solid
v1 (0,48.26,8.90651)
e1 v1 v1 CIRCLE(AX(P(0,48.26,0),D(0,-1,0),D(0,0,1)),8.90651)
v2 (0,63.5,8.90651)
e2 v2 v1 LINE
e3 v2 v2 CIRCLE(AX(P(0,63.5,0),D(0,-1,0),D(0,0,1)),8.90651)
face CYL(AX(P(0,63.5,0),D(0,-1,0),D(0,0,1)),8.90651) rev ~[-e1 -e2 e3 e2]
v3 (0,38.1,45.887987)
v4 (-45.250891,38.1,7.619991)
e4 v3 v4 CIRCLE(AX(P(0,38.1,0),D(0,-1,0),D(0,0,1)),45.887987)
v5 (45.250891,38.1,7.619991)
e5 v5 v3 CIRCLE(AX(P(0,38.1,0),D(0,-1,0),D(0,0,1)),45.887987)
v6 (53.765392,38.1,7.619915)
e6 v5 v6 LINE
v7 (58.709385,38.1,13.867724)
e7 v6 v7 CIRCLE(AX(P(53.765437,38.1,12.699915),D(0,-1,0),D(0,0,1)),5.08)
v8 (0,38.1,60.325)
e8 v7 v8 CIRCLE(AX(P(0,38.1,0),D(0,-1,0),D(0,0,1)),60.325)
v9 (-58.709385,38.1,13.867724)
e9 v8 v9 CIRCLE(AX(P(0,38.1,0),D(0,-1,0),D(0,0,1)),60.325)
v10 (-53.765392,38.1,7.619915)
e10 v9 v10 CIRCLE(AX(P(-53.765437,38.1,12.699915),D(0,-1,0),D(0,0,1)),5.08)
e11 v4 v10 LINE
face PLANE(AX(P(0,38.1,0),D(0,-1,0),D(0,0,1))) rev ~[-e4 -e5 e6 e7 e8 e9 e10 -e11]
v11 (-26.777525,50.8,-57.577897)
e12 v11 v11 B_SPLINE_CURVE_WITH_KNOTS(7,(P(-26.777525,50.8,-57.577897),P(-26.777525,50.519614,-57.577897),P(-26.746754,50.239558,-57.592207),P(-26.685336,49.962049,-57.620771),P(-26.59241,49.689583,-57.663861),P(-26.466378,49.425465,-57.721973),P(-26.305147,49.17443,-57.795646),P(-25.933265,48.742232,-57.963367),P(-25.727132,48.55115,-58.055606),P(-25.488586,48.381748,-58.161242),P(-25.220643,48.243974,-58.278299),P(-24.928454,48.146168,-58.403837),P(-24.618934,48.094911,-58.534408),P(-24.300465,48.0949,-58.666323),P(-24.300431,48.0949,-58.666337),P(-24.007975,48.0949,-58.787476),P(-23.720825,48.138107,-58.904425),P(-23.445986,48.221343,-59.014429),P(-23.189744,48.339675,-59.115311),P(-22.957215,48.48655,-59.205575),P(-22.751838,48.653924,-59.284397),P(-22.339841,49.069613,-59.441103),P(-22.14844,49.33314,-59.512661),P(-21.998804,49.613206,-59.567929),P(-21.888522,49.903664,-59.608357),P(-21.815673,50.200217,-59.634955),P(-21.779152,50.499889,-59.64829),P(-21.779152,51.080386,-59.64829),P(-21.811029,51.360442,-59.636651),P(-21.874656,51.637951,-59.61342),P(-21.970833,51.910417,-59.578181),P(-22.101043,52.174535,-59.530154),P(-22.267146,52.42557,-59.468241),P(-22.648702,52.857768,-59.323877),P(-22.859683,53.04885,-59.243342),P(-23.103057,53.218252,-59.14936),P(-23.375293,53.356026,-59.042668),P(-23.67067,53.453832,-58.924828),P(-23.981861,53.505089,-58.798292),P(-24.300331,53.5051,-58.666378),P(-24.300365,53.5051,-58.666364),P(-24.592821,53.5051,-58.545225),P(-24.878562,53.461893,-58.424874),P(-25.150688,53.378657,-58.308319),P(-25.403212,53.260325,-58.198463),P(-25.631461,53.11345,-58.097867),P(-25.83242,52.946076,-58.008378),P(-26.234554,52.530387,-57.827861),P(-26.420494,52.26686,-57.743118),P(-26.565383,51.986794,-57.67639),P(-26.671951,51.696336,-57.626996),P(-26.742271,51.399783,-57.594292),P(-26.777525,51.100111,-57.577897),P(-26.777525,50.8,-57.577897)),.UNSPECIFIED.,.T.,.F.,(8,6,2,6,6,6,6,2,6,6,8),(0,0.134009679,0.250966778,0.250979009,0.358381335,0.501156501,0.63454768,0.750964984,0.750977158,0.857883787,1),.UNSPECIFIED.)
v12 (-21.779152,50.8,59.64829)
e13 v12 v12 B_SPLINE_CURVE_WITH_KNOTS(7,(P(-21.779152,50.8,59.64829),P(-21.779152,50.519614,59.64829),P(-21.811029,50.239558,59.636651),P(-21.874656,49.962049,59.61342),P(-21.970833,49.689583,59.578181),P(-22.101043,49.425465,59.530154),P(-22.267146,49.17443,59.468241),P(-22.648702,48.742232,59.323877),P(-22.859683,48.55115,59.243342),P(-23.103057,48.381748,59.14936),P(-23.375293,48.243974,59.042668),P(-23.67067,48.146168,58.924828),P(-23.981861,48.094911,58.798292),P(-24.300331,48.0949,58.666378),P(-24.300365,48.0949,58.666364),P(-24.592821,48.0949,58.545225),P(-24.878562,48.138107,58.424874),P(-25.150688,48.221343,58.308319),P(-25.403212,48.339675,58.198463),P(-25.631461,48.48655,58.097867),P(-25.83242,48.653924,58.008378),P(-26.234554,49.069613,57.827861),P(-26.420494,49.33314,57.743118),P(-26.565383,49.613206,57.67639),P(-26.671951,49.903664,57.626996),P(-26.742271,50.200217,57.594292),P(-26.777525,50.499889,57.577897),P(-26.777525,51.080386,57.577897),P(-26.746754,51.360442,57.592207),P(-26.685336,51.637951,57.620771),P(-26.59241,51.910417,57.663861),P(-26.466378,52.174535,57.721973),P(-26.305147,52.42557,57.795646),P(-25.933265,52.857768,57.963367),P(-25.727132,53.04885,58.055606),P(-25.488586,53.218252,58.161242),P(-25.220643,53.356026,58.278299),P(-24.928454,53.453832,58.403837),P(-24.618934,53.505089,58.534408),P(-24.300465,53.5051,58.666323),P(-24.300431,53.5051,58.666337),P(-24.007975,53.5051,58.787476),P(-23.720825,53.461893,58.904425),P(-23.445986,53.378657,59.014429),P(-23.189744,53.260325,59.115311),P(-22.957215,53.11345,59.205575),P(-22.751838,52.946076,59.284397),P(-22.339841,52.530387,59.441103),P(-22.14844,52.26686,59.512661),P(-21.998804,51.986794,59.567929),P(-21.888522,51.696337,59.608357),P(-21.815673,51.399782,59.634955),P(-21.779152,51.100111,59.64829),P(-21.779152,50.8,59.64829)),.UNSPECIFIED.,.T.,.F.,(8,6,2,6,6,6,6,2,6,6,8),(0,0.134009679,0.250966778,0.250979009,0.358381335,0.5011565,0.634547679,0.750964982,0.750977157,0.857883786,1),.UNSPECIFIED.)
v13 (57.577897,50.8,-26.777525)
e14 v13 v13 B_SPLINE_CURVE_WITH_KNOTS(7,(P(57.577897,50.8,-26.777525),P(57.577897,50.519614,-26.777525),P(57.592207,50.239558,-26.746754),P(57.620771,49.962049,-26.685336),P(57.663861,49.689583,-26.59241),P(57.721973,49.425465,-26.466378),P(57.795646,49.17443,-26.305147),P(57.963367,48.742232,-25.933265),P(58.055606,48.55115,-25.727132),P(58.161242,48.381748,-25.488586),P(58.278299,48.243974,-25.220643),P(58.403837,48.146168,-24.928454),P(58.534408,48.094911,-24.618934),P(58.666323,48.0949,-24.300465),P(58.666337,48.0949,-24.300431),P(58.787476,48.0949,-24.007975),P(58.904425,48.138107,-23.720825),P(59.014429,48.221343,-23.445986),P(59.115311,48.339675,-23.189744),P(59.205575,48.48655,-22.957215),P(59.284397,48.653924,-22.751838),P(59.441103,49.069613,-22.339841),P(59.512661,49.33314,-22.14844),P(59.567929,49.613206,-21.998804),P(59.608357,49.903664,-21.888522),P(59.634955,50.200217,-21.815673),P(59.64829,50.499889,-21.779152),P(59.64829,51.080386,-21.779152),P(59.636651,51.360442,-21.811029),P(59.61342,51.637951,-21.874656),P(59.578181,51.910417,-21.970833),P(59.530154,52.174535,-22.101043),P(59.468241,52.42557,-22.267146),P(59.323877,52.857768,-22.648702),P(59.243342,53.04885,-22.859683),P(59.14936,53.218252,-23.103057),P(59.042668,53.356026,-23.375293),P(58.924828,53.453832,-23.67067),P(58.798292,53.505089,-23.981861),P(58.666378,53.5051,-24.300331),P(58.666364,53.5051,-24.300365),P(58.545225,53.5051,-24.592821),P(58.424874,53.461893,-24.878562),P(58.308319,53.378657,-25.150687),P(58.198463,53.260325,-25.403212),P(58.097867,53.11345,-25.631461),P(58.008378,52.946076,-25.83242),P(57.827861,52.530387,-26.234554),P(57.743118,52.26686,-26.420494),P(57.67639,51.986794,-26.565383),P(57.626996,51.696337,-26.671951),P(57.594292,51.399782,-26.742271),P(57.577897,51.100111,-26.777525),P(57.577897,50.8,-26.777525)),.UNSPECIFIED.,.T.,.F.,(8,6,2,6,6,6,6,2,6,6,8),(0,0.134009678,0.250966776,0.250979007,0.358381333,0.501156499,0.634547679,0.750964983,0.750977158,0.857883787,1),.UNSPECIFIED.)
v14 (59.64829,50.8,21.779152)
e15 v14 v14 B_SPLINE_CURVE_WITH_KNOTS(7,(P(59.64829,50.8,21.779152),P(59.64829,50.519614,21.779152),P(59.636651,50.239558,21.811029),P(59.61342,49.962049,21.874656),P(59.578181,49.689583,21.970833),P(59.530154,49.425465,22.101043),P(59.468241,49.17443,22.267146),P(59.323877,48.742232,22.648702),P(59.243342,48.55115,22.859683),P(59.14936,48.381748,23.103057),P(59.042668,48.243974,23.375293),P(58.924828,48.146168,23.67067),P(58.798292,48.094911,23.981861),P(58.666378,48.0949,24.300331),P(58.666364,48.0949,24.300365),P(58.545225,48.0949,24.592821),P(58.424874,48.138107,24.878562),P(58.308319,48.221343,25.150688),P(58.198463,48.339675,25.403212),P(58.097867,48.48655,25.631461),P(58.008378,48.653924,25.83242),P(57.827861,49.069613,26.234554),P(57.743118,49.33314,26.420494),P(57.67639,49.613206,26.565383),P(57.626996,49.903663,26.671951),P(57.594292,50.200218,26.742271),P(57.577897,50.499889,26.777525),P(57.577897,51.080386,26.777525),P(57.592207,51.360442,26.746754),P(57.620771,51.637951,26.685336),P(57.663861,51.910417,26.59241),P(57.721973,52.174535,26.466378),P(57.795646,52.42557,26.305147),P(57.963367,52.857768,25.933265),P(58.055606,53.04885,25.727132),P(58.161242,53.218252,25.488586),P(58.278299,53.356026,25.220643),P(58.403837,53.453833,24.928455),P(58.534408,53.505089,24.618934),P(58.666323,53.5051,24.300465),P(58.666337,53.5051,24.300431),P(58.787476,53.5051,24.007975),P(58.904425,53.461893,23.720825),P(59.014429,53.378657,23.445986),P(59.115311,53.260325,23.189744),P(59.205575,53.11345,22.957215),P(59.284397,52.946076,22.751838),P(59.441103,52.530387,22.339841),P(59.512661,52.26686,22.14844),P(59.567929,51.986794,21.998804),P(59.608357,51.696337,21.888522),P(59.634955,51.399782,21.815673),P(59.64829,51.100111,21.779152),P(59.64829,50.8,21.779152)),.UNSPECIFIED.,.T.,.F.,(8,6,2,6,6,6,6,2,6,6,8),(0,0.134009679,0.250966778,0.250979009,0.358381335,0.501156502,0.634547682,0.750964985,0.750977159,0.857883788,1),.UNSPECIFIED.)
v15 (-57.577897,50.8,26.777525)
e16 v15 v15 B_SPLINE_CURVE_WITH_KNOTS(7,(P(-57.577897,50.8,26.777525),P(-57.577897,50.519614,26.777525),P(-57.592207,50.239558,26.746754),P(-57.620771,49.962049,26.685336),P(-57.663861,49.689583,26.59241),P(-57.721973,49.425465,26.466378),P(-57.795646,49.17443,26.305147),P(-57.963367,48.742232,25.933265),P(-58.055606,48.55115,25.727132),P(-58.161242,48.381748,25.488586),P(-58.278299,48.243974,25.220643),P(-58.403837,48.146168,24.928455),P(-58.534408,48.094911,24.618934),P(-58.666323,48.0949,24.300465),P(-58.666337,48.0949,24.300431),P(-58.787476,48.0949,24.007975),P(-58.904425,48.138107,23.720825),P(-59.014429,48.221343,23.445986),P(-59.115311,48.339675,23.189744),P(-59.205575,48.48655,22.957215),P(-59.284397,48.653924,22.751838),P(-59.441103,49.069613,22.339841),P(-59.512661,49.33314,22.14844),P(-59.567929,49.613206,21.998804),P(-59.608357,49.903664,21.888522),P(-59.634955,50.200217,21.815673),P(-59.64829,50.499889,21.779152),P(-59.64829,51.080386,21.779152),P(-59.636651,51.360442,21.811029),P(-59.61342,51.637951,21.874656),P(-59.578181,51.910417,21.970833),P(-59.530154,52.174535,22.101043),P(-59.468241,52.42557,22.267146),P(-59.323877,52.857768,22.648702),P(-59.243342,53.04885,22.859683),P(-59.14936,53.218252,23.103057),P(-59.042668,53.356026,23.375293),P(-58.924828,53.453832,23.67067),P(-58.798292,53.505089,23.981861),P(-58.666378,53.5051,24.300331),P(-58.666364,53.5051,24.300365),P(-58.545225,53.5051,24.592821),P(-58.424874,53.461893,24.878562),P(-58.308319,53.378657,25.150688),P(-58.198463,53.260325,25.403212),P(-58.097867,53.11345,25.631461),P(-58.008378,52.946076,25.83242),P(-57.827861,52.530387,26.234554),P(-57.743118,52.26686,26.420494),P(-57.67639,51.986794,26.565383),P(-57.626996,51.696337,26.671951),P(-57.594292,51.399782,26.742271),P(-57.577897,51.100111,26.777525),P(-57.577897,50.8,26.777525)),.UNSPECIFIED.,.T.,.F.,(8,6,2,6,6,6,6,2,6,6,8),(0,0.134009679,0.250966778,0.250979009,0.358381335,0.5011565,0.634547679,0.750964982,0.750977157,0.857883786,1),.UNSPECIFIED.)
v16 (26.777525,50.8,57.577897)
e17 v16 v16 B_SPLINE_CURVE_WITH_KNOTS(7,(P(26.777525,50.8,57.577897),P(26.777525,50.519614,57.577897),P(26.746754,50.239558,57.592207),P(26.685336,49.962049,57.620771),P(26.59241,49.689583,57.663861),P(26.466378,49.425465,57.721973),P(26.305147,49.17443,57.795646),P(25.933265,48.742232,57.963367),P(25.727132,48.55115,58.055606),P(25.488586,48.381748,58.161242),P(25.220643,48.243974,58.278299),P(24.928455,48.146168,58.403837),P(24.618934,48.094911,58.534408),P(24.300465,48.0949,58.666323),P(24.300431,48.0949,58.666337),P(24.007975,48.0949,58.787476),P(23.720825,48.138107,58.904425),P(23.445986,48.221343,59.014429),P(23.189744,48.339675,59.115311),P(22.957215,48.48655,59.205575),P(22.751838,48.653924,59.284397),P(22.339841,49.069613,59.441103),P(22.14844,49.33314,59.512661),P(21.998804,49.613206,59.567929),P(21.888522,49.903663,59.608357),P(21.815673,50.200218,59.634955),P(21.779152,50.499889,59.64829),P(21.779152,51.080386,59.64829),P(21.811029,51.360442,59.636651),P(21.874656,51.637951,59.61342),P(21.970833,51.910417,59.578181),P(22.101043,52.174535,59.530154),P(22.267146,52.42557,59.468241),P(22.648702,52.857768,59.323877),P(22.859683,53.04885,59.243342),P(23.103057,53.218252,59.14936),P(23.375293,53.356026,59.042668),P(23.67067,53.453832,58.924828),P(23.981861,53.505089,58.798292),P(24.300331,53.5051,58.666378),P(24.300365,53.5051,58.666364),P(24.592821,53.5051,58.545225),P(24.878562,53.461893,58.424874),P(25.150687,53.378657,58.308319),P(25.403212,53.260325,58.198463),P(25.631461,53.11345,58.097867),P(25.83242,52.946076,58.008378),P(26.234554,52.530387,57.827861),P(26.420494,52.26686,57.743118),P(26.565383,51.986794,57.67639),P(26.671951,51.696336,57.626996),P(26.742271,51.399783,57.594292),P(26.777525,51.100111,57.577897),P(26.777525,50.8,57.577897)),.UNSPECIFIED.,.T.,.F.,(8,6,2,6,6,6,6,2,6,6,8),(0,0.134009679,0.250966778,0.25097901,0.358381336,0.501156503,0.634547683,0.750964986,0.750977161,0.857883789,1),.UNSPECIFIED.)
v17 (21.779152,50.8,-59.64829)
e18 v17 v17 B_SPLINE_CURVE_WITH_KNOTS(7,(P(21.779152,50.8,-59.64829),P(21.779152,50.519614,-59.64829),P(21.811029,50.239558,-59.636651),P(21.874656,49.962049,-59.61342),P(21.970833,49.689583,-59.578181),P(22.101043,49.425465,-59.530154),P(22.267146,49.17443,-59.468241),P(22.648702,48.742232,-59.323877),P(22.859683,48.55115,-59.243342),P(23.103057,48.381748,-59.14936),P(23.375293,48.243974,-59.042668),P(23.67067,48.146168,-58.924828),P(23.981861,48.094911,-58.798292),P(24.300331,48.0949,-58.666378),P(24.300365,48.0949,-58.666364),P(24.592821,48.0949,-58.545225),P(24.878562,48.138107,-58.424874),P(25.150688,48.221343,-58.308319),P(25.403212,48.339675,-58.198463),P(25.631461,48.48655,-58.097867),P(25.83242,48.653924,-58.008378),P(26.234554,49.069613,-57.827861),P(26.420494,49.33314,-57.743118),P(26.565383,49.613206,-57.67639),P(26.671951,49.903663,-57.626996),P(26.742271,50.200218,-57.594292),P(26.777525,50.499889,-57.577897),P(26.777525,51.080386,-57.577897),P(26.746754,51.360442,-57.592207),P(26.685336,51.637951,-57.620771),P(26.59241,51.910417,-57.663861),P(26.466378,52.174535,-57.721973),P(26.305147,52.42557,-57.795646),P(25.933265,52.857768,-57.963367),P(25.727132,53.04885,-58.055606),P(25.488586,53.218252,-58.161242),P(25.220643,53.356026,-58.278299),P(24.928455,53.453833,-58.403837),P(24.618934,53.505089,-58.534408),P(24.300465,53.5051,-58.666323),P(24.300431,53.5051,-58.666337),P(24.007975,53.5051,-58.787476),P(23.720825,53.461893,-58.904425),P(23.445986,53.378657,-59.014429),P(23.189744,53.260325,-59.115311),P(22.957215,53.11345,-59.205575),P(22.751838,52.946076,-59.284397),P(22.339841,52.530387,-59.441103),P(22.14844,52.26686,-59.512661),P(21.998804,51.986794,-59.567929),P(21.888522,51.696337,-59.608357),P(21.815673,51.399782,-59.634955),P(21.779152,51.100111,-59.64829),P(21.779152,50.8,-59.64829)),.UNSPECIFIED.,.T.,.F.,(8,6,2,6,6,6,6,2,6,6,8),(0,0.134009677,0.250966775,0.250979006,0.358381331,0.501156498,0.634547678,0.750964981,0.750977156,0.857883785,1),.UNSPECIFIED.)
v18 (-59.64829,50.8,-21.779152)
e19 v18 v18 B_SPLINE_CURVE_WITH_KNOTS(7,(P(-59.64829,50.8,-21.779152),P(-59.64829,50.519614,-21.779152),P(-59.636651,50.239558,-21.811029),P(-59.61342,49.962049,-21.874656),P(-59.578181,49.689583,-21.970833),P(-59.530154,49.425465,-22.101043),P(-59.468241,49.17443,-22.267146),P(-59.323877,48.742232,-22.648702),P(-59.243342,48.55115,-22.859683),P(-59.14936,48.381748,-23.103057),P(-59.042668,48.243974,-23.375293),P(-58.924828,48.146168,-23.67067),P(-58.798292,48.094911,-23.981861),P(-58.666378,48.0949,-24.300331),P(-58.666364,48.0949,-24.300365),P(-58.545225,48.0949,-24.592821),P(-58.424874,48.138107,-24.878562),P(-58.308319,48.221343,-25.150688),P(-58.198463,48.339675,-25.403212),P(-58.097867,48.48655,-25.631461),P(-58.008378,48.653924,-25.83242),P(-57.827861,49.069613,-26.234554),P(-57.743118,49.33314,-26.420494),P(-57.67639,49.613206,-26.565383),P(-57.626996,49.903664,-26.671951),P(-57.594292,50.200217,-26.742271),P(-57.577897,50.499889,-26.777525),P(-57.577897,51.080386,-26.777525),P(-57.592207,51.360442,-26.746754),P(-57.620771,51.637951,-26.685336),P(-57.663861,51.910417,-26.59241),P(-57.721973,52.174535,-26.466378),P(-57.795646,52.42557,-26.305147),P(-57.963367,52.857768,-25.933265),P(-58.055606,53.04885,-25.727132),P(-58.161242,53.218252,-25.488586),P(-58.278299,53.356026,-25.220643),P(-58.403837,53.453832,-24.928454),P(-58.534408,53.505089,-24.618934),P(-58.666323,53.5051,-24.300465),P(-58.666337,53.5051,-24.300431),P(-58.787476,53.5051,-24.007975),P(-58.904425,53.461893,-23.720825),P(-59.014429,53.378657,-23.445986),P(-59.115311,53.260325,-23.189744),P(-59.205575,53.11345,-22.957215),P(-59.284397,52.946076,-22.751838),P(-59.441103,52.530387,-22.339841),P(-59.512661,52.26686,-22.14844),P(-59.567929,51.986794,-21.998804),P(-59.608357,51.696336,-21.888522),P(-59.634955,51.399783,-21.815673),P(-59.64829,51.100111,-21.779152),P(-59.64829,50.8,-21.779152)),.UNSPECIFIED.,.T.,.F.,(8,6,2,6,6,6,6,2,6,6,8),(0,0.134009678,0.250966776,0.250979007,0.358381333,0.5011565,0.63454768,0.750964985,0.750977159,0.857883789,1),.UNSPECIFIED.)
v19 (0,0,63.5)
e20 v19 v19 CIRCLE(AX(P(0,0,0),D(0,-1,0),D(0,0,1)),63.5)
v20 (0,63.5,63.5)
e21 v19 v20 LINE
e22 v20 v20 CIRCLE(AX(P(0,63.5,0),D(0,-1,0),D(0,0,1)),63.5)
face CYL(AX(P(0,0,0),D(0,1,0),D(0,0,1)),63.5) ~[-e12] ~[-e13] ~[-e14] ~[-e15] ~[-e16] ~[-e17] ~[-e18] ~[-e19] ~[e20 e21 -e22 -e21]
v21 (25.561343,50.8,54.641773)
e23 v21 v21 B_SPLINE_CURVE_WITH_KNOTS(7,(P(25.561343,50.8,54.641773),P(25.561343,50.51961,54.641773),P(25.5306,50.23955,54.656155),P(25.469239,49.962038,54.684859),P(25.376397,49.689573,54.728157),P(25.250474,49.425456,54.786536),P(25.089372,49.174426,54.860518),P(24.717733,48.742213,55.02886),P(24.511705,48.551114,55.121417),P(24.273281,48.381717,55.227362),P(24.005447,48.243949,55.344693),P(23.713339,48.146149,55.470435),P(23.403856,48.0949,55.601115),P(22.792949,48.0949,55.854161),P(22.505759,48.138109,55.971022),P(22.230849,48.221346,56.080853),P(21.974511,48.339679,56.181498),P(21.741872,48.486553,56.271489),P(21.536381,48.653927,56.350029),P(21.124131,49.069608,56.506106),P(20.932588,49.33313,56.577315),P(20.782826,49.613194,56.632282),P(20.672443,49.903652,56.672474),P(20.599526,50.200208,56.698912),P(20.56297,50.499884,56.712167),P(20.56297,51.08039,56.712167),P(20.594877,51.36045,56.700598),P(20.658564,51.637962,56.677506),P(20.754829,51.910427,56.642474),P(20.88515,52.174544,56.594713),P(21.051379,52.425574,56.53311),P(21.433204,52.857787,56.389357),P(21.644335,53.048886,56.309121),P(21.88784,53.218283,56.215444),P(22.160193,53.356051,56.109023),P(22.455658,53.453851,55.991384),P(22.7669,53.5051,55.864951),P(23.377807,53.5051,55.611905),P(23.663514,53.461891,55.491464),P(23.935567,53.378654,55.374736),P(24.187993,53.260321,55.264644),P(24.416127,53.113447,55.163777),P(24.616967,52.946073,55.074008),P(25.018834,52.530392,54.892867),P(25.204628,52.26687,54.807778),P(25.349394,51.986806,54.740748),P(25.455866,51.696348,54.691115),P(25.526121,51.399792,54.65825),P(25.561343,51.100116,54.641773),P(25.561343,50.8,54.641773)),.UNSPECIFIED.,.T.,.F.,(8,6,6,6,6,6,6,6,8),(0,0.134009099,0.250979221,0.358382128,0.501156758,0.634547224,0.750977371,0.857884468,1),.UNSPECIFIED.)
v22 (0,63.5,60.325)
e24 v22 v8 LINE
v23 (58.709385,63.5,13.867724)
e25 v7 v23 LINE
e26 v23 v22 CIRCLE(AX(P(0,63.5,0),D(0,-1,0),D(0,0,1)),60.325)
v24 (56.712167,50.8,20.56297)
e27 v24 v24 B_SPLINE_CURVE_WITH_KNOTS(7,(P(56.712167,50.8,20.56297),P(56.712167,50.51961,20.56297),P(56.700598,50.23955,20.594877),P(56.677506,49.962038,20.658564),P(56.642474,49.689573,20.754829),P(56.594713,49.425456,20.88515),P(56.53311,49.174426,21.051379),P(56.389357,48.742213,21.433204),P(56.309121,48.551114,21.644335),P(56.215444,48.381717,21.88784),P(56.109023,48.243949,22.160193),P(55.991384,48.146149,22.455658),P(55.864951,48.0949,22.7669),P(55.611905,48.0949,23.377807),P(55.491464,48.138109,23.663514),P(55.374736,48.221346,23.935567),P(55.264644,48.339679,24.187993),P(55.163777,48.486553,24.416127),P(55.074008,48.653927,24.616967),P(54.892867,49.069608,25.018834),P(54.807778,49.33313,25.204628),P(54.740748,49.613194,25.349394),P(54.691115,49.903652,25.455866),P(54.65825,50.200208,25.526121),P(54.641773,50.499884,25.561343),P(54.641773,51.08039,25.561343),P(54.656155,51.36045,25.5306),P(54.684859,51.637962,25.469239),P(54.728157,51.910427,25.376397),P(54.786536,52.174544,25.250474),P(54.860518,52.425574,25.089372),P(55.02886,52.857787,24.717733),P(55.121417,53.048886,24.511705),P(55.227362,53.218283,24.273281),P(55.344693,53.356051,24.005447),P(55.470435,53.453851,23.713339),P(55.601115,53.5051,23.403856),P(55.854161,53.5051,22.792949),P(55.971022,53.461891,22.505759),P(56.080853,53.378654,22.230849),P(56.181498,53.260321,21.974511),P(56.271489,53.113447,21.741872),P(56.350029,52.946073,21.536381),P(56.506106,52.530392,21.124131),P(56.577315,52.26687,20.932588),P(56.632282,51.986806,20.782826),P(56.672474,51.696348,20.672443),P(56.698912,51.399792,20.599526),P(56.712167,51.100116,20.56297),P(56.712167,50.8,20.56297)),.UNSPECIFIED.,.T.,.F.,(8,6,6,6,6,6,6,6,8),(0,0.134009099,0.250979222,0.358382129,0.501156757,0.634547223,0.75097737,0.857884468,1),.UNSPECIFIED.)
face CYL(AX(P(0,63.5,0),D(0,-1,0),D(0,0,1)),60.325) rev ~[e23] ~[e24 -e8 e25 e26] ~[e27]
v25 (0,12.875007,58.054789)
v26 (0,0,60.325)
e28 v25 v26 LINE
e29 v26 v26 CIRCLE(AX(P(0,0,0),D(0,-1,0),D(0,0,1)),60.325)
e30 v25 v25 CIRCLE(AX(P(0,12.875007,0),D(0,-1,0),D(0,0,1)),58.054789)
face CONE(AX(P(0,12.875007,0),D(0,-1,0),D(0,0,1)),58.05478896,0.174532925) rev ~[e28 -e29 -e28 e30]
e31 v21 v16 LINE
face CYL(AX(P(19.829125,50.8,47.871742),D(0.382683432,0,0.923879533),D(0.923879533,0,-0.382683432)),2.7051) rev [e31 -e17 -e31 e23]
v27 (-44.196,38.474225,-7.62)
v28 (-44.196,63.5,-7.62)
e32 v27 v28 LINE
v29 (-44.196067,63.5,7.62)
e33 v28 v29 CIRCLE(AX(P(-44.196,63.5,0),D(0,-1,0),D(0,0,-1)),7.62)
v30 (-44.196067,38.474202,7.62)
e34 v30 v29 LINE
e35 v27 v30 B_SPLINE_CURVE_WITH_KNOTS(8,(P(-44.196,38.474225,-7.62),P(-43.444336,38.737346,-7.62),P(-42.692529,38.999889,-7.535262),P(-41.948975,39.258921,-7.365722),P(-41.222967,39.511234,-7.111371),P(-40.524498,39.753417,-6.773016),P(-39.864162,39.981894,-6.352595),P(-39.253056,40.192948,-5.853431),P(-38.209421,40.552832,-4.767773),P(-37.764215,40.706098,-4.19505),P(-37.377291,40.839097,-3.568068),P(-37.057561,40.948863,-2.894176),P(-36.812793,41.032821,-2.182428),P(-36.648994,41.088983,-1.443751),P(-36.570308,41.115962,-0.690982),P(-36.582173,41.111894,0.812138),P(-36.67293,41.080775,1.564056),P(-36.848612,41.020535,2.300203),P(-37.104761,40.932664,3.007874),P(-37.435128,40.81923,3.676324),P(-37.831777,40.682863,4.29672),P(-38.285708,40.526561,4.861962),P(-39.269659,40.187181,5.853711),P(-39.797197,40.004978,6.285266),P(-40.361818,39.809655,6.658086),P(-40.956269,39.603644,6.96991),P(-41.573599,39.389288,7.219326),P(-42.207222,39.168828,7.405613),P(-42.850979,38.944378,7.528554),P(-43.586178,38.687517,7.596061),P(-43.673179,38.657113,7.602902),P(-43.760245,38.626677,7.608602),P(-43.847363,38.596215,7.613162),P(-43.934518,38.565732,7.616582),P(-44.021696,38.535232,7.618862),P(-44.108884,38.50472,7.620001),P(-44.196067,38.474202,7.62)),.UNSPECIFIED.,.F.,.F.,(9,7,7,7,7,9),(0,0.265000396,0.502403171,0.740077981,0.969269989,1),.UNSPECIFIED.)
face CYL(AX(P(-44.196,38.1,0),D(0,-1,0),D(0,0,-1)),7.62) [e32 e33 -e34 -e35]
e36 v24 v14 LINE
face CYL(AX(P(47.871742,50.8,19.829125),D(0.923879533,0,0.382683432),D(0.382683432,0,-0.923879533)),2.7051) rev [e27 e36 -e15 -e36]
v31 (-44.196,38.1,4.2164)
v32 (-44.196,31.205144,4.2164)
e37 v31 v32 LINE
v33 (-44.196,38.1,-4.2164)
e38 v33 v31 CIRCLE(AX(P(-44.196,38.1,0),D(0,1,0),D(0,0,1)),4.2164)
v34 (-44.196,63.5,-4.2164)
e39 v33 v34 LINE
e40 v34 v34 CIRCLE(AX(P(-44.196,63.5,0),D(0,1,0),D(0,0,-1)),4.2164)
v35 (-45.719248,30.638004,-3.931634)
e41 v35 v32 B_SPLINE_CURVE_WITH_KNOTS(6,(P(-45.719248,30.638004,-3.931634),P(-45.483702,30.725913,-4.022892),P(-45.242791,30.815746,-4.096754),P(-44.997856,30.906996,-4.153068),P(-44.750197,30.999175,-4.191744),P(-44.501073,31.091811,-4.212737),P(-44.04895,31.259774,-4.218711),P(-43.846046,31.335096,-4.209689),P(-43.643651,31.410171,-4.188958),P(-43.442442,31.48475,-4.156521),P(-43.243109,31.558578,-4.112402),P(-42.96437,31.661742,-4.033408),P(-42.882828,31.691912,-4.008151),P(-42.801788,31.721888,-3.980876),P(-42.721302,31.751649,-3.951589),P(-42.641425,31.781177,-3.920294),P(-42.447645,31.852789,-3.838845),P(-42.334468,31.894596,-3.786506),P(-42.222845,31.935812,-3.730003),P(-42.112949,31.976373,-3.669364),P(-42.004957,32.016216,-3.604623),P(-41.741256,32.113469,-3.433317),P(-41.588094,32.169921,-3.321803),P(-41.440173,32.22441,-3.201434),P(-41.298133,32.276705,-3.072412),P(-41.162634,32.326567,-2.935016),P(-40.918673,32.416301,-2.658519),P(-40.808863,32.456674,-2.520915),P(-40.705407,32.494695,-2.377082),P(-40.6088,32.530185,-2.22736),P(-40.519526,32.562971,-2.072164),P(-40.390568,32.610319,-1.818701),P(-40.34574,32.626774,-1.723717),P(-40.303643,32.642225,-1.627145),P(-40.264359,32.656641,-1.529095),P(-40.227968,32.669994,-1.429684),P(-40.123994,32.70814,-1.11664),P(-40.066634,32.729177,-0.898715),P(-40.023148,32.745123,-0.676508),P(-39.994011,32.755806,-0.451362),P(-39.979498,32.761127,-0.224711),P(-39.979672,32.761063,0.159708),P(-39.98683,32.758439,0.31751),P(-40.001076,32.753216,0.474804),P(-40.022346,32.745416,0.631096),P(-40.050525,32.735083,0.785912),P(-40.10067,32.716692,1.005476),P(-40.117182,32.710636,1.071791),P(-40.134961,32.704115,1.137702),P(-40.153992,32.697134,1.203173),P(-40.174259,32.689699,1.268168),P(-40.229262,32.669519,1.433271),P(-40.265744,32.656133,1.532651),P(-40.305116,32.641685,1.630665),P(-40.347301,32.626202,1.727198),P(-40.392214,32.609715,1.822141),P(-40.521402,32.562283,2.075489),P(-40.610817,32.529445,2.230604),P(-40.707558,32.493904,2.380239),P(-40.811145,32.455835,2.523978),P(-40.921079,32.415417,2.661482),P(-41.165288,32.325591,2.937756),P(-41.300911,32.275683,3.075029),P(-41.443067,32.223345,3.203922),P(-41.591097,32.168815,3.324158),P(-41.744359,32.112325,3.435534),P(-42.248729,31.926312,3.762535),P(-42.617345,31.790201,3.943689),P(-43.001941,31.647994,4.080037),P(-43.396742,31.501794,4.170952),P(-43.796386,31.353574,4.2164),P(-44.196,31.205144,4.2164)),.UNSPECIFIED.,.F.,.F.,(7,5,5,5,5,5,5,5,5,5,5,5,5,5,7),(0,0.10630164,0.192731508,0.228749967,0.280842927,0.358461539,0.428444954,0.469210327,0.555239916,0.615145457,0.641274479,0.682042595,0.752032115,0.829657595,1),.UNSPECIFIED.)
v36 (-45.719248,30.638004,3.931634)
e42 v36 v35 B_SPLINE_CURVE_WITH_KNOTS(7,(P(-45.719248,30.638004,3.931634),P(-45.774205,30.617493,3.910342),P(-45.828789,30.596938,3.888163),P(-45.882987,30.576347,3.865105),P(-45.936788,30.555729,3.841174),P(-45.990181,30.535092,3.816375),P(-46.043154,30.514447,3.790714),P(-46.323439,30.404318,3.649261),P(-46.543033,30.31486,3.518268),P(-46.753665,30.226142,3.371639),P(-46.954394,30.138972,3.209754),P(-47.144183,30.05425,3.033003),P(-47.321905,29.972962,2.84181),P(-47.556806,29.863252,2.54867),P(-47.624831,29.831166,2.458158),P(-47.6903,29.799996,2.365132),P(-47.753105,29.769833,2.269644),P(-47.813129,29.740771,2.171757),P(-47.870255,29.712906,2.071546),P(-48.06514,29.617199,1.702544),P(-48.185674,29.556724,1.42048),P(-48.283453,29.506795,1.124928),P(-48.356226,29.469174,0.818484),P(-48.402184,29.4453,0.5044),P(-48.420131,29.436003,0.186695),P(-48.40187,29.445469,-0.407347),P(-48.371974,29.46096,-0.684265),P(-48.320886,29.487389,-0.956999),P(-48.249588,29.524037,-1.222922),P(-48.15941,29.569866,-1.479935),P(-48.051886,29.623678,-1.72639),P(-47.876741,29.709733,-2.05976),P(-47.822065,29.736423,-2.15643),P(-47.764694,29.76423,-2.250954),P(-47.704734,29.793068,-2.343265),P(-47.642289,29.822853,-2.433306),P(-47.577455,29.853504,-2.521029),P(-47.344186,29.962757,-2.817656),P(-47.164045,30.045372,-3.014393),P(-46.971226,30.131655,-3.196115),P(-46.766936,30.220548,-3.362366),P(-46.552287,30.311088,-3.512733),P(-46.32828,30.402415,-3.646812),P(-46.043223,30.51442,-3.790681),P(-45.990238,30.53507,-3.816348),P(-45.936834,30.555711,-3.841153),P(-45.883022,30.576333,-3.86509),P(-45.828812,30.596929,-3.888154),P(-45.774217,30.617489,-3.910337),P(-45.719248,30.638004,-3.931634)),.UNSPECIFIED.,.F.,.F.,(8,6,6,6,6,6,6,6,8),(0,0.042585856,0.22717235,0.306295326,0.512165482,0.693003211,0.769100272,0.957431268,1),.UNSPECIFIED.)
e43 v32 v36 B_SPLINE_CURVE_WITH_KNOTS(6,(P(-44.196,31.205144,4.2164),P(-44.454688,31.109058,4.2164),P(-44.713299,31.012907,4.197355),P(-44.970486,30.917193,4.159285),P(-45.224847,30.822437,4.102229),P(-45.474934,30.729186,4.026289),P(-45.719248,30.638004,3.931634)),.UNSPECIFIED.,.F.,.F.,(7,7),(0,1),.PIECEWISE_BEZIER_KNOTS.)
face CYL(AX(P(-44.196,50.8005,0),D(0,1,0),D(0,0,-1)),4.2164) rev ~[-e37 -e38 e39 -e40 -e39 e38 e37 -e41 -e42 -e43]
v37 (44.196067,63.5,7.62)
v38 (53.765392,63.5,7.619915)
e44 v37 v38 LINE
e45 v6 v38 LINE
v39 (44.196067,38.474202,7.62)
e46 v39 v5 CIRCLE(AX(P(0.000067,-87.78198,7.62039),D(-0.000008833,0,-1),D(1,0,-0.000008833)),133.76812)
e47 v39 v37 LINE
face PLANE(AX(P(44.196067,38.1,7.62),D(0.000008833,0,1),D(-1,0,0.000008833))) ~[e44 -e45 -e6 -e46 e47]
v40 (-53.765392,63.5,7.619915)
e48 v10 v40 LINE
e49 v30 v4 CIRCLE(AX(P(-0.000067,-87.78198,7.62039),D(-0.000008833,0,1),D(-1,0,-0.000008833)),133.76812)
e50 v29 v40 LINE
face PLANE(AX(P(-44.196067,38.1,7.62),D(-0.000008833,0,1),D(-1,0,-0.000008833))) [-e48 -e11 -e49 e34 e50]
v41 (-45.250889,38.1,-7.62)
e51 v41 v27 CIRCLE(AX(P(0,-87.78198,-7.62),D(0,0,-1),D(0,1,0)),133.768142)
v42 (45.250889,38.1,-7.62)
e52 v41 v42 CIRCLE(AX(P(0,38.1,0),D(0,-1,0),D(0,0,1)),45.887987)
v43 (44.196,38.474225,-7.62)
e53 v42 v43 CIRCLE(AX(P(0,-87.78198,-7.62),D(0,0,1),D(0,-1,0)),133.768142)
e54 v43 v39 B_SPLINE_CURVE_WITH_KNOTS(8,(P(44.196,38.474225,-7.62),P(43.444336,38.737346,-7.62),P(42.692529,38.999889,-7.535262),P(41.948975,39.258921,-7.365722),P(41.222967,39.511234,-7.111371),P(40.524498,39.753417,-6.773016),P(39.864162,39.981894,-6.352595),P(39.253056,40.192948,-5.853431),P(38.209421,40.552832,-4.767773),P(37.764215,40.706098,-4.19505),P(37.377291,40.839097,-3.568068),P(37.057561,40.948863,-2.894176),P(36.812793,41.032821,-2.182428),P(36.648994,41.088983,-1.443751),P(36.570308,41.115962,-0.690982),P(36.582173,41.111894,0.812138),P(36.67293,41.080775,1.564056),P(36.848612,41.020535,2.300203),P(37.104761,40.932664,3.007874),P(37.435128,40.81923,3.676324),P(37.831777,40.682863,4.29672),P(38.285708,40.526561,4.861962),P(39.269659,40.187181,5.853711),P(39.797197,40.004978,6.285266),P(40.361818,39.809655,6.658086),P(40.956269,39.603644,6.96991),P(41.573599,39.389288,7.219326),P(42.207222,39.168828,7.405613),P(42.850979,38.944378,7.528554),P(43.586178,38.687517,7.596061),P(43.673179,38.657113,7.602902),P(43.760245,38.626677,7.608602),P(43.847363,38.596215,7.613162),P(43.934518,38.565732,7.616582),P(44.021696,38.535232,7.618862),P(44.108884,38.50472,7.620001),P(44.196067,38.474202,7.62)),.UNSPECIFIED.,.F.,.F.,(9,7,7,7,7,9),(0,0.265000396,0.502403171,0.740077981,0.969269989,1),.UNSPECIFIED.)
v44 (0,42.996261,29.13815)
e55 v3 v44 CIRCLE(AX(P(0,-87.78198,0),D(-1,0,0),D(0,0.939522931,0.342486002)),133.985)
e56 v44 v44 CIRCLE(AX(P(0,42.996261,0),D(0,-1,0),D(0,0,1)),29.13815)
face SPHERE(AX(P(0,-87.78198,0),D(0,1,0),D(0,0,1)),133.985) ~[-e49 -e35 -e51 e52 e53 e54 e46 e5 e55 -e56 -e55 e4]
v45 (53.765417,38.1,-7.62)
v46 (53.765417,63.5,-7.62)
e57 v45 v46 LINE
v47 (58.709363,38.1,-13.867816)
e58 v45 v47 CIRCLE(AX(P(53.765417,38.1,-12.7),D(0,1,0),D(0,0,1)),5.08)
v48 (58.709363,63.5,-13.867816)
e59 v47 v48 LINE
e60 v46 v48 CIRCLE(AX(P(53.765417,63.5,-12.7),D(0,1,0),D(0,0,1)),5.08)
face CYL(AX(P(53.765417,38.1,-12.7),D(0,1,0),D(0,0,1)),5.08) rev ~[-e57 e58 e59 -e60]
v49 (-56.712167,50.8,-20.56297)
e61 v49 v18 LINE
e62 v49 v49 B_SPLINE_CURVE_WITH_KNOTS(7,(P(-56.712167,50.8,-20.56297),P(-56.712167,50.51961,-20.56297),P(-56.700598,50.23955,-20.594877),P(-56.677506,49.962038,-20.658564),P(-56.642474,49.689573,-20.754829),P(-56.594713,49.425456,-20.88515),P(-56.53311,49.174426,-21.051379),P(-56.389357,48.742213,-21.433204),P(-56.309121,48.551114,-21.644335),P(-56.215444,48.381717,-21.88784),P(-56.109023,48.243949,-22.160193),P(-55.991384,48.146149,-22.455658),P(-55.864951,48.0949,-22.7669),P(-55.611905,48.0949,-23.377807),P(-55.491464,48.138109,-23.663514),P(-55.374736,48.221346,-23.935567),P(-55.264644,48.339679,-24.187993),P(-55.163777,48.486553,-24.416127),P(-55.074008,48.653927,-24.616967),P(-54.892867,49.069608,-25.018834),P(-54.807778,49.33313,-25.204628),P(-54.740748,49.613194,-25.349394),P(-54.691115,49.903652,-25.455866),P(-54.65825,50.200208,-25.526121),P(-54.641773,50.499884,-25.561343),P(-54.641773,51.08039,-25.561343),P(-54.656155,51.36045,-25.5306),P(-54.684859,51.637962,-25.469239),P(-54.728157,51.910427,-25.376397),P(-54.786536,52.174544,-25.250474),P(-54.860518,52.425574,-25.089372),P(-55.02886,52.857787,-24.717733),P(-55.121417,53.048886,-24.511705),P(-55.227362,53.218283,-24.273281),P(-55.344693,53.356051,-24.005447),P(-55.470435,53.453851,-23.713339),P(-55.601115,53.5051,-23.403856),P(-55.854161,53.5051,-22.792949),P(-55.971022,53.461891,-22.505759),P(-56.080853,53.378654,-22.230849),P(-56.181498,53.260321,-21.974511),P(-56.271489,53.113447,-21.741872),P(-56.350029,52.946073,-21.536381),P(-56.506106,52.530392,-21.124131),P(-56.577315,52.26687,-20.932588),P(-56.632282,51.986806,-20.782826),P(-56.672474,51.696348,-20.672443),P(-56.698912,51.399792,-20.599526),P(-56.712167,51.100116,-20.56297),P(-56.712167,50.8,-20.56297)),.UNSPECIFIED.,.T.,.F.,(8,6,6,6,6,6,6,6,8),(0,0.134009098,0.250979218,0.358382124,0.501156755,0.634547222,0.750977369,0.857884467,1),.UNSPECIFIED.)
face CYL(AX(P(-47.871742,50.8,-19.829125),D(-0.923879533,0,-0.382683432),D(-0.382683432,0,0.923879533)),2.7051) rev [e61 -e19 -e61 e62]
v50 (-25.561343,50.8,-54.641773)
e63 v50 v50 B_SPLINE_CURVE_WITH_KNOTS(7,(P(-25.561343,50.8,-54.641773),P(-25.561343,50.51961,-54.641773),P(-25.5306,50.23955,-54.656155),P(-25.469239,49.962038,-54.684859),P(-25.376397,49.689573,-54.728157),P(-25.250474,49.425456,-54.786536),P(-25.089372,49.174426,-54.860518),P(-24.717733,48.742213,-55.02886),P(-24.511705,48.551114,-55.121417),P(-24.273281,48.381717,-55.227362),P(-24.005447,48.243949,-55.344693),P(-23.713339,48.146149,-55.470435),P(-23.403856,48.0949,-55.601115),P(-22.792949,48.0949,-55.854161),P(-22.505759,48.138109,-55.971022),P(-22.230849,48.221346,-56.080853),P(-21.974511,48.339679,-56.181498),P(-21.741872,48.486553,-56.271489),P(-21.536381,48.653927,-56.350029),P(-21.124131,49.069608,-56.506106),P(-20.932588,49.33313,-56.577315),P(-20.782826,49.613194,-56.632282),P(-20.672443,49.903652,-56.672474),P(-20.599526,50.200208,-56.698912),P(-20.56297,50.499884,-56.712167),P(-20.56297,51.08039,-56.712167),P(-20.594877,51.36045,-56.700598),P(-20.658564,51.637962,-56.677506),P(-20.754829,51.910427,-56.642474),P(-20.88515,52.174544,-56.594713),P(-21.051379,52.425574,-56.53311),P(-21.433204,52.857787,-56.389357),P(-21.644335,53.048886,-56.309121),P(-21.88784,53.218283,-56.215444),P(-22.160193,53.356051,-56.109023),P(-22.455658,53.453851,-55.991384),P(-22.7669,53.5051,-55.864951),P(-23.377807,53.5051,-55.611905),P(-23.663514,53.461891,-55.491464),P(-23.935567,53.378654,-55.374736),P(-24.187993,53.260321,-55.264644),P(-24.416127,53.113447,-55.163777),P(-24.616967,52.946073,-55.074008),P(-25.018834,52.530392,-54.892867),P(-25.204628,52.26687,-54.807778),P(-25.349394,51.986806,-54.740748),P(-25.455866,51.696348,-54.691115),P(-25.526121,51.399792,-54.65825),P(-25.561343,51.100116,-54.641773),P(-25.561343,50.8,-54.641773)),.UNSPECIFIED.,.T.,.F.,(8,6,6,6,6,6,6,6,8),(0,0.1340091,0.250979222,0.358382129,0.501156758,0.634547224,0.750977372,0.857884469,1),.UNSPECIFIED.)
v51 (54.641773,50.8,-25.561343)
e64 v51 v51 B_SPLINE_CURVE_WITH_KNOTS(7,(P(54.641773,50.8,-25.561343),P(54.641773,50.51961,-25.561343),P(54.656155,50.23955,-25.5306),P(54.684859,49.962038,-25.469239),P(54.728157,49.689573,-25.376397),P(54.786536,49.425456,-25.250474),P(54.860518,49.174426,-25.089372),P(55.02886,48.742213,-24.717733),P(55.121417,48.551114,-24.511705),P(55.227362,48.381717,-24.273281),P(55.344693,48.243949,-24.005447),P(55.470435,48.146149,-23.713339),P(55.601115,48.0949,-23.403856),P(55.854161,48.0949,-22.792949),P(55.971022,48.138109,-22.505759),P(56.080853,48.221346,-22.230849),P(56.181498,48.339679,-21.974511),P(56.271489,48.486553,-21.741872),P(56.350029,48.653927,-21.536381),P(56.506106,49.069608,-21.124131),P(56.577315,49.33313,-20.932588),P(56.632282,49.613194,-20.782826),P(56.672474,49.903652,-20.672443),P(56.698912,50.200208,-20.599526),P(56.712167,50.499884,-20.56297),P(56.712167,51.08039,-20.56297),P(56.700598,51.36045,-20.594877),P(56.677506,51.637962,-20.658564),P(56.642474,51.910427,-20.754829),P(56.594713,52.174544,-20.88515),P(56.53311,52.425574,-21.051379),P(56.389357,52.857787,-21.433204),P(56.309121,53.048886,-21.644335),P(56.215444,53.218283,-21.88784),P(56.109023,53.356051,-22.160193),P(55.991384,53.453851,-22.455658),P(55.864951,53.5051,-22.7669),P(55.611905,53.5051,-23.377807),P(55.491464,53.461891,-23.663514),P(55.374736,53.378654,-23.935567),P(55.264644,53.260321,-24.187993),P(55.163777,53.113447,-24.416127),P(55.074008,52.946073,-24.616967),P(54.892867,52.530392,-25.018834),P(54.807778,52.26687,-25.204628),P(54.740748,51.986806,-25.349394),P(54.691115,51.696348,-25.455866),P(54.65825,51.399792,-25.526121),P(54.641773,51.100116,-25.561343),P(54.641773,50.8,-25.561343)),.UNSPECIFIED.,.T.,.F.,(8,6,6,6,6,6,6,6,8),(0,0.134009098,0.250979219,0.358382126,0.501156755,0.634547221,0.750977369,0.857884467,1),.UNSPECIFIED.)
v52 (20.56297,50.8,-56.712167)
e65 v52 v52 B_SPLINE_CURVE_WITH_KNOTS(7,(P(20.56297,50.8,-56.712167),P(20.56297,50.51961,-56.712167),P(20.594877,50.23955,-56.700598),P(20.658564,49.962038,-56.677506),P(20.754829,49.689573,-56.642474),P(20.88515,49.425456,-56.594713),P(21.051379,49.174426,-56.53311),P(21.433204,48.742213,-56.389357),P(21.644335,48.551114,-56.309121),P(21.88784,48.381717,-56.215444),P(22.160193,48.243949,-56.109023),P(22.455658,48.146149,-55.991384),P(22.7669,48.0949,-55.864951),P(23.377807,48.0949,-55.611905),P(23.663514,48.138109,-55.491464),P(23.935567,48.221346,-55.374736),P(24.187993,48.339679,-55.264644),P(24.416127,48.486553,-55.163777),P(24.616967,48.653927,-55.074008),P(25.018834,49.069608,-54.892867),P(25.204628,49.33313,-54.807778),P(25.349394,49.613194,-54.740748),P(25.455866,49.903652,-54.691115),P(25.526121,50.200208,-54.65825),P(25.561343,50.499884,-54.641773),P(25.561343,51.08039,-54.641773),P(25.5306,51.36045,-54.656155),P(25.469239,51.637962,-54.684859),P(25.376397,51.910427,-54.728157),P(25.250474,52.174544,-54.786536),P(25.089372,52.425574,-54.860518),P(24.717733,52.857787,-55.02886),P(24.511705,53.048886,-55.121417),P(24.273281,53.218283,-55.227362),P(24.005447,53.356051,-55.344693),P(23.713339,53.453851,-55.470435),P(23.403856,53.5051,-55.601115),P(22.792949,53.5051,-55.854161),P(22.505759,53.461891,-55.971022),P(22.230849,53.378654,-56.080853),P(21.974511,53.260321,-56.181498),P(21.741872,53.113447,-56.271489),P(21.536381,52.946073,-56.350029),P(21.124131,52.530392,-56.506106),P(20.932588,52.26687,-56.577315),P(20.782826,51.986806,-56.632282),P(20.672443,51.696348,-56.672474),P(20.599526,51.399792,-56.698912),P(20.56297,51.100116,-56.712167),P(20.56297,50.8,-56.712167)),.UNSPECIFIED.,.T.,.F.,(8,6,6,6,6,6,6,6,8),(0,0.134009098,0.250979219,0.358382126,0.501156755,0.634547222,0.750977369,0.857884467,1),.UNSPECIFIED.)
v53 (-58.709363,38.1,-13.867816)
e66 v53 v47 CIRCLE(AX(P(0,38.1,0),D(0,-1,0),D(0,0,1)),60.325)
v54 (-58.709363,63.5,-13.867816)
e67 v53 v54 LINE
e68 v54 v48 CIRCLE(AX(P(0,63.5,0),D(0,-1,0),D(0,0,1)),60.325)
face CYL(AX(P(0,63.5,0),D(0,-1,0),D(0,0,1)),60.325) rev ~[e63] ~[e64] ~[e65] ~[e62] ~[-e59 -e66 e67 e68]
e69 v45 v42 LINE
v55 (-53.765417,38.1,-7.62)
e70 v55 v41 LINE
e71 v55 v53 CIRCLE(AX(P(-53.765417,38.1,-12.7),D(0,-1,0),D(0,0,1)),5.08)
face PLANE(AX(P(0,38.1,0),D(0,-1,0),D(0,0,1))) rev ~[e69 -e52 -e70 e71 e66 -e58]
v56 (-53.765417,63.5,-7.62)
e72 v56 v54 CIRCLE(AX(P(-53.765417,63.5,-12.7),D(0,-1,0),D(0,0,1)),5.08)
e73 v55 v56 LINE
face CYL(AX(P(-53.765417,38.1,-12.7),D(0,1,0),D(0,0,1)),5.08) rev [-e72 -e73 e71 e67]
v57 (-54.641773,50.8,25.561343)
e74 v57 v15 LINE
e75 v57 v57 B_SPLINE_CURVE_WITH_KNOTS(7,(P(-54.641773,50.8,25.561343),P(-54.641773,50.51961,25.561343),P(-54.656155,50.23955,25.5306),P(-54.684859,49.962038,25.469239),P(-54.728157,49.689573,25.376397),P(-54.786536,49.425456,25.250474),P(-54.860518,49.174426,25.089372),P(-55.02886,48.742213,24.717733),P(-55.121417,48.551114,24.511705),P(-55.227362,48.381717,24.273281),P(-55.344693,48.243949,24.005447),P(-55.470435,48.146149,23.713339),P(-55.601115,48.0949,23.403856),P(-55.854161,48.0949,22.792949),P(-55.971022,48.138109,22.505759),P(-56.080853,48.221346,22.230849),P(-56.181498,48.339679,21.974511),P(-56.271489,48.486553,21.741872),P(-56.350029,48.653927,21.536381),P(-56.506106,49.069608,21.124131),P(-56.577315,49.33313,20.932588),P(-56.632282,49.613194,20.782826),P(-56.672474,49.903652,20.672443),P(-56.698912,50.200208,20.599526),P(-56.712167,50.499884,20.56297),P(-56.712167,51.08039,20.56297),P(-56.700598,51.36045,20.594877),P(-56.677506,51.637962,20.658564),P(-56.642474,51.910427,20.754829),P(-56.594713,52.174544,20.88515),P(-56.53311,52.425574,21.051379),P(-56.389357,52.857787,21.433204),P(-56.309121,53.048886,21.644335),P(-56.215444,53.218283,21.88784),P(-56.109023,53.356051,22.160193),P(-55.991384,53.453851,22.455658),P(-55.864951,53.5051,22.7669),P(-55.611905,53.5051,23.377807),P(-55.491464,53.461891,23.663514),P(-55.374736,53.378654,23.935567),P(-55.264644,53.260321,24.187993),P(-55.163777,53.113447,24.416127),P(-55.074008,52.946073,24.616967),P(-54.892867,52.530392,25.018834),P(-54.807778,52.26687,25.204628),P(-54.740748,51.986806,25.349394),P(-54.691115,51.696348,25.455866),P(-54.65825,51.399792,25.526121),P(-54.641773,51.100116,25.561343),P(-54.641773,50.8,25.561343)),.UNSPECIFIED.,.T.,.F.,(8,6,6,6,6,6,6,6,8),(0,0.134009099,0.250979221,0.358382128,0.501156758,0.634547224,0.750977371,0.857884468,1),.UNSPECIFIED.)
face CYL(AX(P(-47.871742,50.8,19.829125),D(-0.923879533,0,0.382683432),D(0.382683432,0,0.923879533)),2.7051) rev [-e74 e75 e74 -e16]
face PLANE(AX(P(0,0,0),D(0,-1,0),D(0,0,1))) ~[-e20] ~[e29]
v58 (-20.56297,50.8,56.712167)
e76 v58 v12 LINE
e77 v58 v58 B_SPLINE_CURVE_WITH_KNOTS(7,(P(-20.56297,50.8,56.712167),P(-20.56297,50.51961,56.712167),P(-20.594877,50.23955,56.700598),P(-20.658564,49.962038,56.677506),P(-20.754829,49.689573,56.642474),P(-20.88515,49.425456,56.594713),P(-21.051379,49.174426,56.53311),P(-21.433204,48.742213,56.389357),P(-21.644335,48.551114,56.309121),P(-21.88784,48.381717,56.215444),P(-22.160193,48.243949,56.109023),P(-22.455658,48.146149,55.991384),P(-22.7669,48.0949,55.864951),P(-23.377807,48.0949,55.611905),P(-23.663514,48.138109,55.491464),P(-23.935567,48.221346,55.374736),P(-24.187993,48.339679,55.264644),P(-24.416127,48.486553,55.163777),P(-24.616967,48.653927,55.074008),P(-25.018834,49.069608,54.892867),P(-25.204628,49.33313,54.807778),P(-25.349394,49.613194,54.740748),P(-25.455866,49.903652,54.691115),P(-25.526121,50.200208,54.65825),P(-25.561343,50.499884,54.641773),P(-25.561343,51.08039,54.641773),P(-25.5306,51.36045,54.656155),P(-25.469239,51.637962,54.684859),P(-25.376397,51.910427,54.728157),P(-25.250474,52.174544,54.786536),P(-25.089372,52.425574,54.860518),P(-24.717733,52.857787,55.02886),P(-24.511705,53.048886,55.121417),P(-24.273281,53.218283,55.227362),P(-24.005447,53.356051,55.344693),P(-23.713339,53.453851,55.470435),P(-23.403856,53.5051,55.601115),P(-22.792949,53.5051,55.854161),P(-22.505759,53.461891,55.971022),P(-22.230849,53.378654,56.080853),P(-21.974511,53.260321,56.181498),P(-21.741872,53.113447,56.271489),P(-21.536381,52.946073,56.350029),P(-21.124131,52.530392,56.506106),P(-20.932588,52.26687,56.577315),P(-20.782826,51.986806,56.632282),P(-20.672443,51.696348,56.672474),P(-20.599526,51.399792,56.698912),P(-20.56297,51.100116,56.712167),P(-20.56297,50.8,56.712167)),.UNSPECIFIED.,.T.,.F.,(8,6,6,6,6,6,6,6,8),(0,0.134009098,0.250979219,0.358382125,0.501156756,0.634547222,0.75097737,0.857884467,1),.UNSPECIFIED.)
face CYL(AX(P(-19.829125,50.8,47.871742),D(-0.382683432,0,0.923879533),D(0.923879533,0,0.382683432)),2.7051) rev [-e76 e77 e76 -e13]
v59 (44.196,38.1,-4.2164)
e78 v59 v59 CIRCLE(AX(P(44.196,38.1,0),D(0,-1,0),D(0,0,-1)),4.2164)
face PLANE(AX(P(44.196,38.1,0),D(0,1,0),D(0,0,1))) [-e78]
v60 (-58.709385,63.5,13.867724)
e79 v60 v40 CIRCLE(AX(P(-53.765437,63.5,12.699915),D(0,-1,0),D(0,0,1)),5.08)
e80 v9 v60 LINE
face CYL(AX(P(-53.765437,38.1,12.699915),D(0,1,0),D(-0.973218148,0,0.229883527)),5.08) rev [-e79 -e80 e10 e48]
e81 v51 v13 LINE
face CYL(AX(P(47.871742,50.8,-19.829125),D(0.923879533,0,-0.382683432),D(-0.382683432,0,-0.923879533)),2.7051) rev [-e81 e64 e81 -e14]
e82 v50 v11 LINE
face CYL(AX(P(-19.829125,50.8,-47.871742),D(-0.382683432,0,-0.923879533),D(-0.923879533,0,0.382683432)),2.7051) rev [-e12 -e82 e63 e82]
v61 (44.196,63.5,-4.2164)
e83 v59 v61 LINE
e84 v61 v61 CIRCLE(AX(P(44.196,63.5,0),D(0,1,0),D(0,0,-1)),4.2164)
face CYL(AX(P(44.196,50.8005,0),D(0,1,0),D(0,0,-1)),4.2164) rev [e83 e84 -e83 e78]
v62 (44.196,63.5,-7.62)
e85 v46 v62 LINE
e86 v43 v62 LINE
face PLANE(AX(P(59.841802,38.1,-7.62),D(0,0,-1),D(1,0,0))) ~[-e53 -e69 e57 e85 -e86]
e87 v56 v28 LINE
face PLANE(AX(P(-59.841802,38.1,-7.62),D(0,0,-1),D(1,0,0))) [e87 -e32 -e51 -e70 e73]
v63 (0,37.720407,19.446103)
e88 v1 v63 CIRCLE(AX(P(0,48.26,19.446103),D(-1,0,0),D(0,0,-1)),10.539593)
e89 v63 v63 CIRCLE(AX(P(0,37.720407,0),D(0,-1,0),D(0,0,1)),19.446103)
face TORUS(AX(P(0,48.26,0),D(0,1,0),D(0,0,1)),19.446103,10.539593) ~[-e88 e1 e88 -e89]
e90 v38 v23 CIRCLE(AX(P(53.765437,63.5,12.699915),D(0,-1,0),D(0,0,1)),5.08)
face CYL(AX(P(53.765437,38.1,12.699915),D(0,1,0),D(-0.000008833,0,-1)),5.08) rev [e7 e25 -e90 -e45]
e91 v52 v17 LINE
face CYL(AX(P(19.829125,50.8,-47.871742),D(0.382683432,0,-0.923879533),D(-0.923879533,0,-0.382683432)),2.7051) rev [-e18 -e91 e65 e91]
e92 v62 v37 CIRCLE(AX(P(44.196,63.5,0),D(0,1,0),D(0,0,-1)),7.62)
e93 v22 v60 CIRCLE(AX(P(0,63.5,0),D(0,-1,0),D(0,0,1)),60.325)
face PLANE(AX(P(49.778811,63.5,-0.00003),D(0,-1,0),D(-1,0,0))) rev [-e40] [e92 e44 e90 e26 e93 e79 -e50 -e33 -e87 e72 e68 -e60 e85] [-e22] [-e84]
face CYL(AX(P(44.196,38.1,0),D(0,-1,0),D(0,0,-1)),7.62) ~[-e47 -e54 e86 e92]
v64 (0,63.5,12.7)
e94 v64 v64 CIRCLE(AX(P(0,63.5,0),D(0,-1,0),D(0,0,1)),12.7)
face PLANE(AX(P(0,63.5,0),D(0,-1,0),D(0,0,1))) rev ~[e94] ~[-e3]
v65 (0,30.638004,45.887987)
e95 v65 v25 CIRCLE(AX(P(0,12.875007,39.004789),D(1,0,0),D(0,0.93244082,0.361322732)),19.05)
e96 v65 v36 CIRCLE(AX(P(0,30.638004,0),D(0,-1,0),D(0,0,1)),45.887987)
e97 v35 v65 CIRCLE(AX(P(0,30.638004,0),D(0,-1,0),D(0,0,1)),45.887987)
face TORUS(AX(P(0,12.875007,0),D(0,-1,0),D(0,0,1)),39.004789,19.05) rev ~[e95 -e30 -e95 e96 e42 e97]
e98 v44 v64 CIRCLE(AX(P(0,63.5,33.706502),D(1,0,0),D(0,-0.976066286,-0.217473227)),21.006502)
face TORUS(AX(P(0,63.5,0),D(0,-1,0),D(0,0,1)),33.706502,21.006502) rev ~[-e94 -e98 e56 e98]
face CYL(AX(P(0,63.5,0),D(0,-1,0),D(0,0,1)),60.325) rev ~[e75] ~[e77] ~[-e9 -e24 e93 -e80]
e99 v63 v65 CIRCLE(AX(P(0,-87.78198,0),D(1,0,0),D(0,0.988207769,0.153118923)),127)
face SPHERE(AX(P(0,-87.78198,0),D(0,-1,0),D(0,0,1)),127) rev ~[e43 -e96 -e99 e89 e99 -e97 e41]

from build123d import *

# Parameters (mm, degrees)
CIRPATTERN1_COUNT    = 8
SKETCH10_W           = 4.2164
SKETCH10_H           = 38.1
BOSS_EXTRUDE1_DEPTH  = 25.4
FILLET1_R            = 5.08
SKETCH13_W           = 4.2164
SKETCH13_H           = 25.401
FILLET1_OF_MIRROR1_R = 5.08


with BuildPart() as part:
    # Sketch1 → Revolve2 (revolve)
    with BuildSketch(Plane.XY, mode=Mode.PRIVATE) as revolve2_sk:
        with BuildLine():
            Line((-63.5, 0), (-63.5, 63.5))
            Line((-63.5, 63.5), (-60.325, 63.5))
            Line((-60.325, 63.5), (-60.325, 38.1))
            Line((-60.325, 38.1), (-45.887987012, 38.1))
            ThreePointArc((-45.887987012, 38.1), (-37.592867218, 40.821117068), (-29.138150343, 42.996261447))
            ThreePointArc((-29.138150343, 42.996261447), (-17.316898362, 50.360212318), (-12.7, 63.5))
            Line((-12.7, 63.5), (-8.90651, 63.5))
            Line((-8.90651, 63.5), (-8.90651, 48.26))
            ThreePointArc((-8.90651, 48.26), (-11.993485386, 40.807382156), (-19.446103231, 37.720406769))
            ThreePointArc((-19.446103231, 37.720406769), (-32.858422717, 34.893706556), (-45.887987012, 30.638004221))
            ThreePointArc((-45.887987012, 30.638004221), (-54.721458819, 23.640172111), (-58.05478896, 12.875006597))
            Line((-58.05478896, 12.875006597), (-60.325, 0))
            Line((-60.325, 0), (-63.5, 0))
        make_face()
    revolve(revolve2_sk.sketch.rotate(Axis((0, 127.060987048, 0), (0, -1, 0)), 270), axis=Axis((0, 127.060987048, 0), (0, -1, 0)))

    # Sketch5 → #3 (0.213) Diameter Hole1 (revolve, cut)
    with BuildSketch(Plane(origin=(-24.300397955, 50.8, 58.666350314), x_dir=(0.9238795325112865, 0, 0.3826834323650904), z_dir=(0, 1, 0))):
        Polygon((0, 0), (0, 13.309388061), (2.7051, 11.684), (2.7051, 0), align=None)
    f_3_0_213_diameter_hole1 = revolve(axis=Axis((-26.730437751, 50.8, 64.532985346), (0.3826834323650904, 0, -0.9238795325112865)), mode=Mode.SUBTRACT)

    # CirPattern1: #3 (0.213) Diameter Hole1 ×8 about axis
    cirpattern1_axis = Axis((0, 127.060987048, 0), (0, -1, 0))
    for i in range(1, CIRPATTERN1_COUNT):
        add(f_3_0_213_diameter_hole1.rotate(cirpattern1_axis, i * 360 / CIRPATTERN1_COUNT), mode=Mode.SUBTRACT)

    # Sketch10 → Q (0.332) Diameter Hole2 (revolve, cut)
    with BuildSketch(Plane(origin=(-44.196, 38.1, 0), x_dir=(0, 0, 1), z_dir=(1, 0, 0))):
        with Locations((2.1082, 19.05)):
            Rectangle(SKETCH10_W, SKETCH10_H)
    revolve(axis=Axis((-44.196, 44.45, 0), (0, -1, 0)), mode=Mode.SUBTRACT)

    # Sketch11 → Boss-Extrude1 (add)
    with BuildSketch(Plane(origin=(0, 38.1, 0), x_dir=(1, 0, 0), z_dir=(0, 1, 0))):
        with BuildLine():
            Line((-59.841801652, 7.62), (-44.196, 7.62))
            ThreePointArc((-44.196, 7.62), (-36.576, -3.3653e-05), (-44.196067307, -7.62))
            Line((-44.196067307, -7.62), (-59.84181925, -7.619861803))
            ThreePointArc((-59.84181925, -7.619861803), (-60.325, 6.9657e-05), (-59.841801652, 7.62))
        make_face()
    boss_extrude1 = extrude(amount=BOSS_EXTRUDE1_DEPTH)

    # Fillet1
    fillet1_edges = [part.edges().sort_by_distance(p)[0] for p in [
        (-59.84181925, 50.8, 7.619861803),
        (-59.841801652, 50.8, -7.62),
    ]]
    fillet(fillet1_edges, radius=FILLET1_R)

    # Sketch13 → Q (0.332) Diameter Hole3 (revolve, cut)
    with BuildSketch(Plane(origin=(-44.196, 38.1, 0), x_dir=(0, 0, -1), z_dir=(1, 0, 0))):
        with Locations((2.1082, 12.7005)):
            Rectangle(SKETCH13_W, SKETCH13_H)
    q_0_332_diameter_hole3 = revolve(axis=Axis((-44.196, 31.75, 0), (0, 1, 0)), mode=Mode.SUBTRACT)

    # Mirror1: Boss-Extrude1, Q (0.332) Diameter Hole3 across plane
    add(boss_extrude1.mirror(Plane(origin=(0, 0, 0), x_dir=(0, 0, 1), z_dir=(1, 0, 0))))
    add(q_0_332_diameter_hole3.mirror(Plane(origin=(0, 0, 0), x_dir=(0, 0, 1), z_dir=(1, 0, 0))), mode=Mode.SUBTRACT)

    # Fillet1 of Mirror1
    fillet1_of_mirror1_edges = [part.edges().sort_by_distance(p)[0] for p in [
        (59.84181925, 50.8, 7.619861803),
        (59.841801652, 50.8, -7.62),
    ]]
    fillet(fillet1_of_mirror1_edges, radius=FILLET1_OF_MIRROR1_R)


solid = part.part
